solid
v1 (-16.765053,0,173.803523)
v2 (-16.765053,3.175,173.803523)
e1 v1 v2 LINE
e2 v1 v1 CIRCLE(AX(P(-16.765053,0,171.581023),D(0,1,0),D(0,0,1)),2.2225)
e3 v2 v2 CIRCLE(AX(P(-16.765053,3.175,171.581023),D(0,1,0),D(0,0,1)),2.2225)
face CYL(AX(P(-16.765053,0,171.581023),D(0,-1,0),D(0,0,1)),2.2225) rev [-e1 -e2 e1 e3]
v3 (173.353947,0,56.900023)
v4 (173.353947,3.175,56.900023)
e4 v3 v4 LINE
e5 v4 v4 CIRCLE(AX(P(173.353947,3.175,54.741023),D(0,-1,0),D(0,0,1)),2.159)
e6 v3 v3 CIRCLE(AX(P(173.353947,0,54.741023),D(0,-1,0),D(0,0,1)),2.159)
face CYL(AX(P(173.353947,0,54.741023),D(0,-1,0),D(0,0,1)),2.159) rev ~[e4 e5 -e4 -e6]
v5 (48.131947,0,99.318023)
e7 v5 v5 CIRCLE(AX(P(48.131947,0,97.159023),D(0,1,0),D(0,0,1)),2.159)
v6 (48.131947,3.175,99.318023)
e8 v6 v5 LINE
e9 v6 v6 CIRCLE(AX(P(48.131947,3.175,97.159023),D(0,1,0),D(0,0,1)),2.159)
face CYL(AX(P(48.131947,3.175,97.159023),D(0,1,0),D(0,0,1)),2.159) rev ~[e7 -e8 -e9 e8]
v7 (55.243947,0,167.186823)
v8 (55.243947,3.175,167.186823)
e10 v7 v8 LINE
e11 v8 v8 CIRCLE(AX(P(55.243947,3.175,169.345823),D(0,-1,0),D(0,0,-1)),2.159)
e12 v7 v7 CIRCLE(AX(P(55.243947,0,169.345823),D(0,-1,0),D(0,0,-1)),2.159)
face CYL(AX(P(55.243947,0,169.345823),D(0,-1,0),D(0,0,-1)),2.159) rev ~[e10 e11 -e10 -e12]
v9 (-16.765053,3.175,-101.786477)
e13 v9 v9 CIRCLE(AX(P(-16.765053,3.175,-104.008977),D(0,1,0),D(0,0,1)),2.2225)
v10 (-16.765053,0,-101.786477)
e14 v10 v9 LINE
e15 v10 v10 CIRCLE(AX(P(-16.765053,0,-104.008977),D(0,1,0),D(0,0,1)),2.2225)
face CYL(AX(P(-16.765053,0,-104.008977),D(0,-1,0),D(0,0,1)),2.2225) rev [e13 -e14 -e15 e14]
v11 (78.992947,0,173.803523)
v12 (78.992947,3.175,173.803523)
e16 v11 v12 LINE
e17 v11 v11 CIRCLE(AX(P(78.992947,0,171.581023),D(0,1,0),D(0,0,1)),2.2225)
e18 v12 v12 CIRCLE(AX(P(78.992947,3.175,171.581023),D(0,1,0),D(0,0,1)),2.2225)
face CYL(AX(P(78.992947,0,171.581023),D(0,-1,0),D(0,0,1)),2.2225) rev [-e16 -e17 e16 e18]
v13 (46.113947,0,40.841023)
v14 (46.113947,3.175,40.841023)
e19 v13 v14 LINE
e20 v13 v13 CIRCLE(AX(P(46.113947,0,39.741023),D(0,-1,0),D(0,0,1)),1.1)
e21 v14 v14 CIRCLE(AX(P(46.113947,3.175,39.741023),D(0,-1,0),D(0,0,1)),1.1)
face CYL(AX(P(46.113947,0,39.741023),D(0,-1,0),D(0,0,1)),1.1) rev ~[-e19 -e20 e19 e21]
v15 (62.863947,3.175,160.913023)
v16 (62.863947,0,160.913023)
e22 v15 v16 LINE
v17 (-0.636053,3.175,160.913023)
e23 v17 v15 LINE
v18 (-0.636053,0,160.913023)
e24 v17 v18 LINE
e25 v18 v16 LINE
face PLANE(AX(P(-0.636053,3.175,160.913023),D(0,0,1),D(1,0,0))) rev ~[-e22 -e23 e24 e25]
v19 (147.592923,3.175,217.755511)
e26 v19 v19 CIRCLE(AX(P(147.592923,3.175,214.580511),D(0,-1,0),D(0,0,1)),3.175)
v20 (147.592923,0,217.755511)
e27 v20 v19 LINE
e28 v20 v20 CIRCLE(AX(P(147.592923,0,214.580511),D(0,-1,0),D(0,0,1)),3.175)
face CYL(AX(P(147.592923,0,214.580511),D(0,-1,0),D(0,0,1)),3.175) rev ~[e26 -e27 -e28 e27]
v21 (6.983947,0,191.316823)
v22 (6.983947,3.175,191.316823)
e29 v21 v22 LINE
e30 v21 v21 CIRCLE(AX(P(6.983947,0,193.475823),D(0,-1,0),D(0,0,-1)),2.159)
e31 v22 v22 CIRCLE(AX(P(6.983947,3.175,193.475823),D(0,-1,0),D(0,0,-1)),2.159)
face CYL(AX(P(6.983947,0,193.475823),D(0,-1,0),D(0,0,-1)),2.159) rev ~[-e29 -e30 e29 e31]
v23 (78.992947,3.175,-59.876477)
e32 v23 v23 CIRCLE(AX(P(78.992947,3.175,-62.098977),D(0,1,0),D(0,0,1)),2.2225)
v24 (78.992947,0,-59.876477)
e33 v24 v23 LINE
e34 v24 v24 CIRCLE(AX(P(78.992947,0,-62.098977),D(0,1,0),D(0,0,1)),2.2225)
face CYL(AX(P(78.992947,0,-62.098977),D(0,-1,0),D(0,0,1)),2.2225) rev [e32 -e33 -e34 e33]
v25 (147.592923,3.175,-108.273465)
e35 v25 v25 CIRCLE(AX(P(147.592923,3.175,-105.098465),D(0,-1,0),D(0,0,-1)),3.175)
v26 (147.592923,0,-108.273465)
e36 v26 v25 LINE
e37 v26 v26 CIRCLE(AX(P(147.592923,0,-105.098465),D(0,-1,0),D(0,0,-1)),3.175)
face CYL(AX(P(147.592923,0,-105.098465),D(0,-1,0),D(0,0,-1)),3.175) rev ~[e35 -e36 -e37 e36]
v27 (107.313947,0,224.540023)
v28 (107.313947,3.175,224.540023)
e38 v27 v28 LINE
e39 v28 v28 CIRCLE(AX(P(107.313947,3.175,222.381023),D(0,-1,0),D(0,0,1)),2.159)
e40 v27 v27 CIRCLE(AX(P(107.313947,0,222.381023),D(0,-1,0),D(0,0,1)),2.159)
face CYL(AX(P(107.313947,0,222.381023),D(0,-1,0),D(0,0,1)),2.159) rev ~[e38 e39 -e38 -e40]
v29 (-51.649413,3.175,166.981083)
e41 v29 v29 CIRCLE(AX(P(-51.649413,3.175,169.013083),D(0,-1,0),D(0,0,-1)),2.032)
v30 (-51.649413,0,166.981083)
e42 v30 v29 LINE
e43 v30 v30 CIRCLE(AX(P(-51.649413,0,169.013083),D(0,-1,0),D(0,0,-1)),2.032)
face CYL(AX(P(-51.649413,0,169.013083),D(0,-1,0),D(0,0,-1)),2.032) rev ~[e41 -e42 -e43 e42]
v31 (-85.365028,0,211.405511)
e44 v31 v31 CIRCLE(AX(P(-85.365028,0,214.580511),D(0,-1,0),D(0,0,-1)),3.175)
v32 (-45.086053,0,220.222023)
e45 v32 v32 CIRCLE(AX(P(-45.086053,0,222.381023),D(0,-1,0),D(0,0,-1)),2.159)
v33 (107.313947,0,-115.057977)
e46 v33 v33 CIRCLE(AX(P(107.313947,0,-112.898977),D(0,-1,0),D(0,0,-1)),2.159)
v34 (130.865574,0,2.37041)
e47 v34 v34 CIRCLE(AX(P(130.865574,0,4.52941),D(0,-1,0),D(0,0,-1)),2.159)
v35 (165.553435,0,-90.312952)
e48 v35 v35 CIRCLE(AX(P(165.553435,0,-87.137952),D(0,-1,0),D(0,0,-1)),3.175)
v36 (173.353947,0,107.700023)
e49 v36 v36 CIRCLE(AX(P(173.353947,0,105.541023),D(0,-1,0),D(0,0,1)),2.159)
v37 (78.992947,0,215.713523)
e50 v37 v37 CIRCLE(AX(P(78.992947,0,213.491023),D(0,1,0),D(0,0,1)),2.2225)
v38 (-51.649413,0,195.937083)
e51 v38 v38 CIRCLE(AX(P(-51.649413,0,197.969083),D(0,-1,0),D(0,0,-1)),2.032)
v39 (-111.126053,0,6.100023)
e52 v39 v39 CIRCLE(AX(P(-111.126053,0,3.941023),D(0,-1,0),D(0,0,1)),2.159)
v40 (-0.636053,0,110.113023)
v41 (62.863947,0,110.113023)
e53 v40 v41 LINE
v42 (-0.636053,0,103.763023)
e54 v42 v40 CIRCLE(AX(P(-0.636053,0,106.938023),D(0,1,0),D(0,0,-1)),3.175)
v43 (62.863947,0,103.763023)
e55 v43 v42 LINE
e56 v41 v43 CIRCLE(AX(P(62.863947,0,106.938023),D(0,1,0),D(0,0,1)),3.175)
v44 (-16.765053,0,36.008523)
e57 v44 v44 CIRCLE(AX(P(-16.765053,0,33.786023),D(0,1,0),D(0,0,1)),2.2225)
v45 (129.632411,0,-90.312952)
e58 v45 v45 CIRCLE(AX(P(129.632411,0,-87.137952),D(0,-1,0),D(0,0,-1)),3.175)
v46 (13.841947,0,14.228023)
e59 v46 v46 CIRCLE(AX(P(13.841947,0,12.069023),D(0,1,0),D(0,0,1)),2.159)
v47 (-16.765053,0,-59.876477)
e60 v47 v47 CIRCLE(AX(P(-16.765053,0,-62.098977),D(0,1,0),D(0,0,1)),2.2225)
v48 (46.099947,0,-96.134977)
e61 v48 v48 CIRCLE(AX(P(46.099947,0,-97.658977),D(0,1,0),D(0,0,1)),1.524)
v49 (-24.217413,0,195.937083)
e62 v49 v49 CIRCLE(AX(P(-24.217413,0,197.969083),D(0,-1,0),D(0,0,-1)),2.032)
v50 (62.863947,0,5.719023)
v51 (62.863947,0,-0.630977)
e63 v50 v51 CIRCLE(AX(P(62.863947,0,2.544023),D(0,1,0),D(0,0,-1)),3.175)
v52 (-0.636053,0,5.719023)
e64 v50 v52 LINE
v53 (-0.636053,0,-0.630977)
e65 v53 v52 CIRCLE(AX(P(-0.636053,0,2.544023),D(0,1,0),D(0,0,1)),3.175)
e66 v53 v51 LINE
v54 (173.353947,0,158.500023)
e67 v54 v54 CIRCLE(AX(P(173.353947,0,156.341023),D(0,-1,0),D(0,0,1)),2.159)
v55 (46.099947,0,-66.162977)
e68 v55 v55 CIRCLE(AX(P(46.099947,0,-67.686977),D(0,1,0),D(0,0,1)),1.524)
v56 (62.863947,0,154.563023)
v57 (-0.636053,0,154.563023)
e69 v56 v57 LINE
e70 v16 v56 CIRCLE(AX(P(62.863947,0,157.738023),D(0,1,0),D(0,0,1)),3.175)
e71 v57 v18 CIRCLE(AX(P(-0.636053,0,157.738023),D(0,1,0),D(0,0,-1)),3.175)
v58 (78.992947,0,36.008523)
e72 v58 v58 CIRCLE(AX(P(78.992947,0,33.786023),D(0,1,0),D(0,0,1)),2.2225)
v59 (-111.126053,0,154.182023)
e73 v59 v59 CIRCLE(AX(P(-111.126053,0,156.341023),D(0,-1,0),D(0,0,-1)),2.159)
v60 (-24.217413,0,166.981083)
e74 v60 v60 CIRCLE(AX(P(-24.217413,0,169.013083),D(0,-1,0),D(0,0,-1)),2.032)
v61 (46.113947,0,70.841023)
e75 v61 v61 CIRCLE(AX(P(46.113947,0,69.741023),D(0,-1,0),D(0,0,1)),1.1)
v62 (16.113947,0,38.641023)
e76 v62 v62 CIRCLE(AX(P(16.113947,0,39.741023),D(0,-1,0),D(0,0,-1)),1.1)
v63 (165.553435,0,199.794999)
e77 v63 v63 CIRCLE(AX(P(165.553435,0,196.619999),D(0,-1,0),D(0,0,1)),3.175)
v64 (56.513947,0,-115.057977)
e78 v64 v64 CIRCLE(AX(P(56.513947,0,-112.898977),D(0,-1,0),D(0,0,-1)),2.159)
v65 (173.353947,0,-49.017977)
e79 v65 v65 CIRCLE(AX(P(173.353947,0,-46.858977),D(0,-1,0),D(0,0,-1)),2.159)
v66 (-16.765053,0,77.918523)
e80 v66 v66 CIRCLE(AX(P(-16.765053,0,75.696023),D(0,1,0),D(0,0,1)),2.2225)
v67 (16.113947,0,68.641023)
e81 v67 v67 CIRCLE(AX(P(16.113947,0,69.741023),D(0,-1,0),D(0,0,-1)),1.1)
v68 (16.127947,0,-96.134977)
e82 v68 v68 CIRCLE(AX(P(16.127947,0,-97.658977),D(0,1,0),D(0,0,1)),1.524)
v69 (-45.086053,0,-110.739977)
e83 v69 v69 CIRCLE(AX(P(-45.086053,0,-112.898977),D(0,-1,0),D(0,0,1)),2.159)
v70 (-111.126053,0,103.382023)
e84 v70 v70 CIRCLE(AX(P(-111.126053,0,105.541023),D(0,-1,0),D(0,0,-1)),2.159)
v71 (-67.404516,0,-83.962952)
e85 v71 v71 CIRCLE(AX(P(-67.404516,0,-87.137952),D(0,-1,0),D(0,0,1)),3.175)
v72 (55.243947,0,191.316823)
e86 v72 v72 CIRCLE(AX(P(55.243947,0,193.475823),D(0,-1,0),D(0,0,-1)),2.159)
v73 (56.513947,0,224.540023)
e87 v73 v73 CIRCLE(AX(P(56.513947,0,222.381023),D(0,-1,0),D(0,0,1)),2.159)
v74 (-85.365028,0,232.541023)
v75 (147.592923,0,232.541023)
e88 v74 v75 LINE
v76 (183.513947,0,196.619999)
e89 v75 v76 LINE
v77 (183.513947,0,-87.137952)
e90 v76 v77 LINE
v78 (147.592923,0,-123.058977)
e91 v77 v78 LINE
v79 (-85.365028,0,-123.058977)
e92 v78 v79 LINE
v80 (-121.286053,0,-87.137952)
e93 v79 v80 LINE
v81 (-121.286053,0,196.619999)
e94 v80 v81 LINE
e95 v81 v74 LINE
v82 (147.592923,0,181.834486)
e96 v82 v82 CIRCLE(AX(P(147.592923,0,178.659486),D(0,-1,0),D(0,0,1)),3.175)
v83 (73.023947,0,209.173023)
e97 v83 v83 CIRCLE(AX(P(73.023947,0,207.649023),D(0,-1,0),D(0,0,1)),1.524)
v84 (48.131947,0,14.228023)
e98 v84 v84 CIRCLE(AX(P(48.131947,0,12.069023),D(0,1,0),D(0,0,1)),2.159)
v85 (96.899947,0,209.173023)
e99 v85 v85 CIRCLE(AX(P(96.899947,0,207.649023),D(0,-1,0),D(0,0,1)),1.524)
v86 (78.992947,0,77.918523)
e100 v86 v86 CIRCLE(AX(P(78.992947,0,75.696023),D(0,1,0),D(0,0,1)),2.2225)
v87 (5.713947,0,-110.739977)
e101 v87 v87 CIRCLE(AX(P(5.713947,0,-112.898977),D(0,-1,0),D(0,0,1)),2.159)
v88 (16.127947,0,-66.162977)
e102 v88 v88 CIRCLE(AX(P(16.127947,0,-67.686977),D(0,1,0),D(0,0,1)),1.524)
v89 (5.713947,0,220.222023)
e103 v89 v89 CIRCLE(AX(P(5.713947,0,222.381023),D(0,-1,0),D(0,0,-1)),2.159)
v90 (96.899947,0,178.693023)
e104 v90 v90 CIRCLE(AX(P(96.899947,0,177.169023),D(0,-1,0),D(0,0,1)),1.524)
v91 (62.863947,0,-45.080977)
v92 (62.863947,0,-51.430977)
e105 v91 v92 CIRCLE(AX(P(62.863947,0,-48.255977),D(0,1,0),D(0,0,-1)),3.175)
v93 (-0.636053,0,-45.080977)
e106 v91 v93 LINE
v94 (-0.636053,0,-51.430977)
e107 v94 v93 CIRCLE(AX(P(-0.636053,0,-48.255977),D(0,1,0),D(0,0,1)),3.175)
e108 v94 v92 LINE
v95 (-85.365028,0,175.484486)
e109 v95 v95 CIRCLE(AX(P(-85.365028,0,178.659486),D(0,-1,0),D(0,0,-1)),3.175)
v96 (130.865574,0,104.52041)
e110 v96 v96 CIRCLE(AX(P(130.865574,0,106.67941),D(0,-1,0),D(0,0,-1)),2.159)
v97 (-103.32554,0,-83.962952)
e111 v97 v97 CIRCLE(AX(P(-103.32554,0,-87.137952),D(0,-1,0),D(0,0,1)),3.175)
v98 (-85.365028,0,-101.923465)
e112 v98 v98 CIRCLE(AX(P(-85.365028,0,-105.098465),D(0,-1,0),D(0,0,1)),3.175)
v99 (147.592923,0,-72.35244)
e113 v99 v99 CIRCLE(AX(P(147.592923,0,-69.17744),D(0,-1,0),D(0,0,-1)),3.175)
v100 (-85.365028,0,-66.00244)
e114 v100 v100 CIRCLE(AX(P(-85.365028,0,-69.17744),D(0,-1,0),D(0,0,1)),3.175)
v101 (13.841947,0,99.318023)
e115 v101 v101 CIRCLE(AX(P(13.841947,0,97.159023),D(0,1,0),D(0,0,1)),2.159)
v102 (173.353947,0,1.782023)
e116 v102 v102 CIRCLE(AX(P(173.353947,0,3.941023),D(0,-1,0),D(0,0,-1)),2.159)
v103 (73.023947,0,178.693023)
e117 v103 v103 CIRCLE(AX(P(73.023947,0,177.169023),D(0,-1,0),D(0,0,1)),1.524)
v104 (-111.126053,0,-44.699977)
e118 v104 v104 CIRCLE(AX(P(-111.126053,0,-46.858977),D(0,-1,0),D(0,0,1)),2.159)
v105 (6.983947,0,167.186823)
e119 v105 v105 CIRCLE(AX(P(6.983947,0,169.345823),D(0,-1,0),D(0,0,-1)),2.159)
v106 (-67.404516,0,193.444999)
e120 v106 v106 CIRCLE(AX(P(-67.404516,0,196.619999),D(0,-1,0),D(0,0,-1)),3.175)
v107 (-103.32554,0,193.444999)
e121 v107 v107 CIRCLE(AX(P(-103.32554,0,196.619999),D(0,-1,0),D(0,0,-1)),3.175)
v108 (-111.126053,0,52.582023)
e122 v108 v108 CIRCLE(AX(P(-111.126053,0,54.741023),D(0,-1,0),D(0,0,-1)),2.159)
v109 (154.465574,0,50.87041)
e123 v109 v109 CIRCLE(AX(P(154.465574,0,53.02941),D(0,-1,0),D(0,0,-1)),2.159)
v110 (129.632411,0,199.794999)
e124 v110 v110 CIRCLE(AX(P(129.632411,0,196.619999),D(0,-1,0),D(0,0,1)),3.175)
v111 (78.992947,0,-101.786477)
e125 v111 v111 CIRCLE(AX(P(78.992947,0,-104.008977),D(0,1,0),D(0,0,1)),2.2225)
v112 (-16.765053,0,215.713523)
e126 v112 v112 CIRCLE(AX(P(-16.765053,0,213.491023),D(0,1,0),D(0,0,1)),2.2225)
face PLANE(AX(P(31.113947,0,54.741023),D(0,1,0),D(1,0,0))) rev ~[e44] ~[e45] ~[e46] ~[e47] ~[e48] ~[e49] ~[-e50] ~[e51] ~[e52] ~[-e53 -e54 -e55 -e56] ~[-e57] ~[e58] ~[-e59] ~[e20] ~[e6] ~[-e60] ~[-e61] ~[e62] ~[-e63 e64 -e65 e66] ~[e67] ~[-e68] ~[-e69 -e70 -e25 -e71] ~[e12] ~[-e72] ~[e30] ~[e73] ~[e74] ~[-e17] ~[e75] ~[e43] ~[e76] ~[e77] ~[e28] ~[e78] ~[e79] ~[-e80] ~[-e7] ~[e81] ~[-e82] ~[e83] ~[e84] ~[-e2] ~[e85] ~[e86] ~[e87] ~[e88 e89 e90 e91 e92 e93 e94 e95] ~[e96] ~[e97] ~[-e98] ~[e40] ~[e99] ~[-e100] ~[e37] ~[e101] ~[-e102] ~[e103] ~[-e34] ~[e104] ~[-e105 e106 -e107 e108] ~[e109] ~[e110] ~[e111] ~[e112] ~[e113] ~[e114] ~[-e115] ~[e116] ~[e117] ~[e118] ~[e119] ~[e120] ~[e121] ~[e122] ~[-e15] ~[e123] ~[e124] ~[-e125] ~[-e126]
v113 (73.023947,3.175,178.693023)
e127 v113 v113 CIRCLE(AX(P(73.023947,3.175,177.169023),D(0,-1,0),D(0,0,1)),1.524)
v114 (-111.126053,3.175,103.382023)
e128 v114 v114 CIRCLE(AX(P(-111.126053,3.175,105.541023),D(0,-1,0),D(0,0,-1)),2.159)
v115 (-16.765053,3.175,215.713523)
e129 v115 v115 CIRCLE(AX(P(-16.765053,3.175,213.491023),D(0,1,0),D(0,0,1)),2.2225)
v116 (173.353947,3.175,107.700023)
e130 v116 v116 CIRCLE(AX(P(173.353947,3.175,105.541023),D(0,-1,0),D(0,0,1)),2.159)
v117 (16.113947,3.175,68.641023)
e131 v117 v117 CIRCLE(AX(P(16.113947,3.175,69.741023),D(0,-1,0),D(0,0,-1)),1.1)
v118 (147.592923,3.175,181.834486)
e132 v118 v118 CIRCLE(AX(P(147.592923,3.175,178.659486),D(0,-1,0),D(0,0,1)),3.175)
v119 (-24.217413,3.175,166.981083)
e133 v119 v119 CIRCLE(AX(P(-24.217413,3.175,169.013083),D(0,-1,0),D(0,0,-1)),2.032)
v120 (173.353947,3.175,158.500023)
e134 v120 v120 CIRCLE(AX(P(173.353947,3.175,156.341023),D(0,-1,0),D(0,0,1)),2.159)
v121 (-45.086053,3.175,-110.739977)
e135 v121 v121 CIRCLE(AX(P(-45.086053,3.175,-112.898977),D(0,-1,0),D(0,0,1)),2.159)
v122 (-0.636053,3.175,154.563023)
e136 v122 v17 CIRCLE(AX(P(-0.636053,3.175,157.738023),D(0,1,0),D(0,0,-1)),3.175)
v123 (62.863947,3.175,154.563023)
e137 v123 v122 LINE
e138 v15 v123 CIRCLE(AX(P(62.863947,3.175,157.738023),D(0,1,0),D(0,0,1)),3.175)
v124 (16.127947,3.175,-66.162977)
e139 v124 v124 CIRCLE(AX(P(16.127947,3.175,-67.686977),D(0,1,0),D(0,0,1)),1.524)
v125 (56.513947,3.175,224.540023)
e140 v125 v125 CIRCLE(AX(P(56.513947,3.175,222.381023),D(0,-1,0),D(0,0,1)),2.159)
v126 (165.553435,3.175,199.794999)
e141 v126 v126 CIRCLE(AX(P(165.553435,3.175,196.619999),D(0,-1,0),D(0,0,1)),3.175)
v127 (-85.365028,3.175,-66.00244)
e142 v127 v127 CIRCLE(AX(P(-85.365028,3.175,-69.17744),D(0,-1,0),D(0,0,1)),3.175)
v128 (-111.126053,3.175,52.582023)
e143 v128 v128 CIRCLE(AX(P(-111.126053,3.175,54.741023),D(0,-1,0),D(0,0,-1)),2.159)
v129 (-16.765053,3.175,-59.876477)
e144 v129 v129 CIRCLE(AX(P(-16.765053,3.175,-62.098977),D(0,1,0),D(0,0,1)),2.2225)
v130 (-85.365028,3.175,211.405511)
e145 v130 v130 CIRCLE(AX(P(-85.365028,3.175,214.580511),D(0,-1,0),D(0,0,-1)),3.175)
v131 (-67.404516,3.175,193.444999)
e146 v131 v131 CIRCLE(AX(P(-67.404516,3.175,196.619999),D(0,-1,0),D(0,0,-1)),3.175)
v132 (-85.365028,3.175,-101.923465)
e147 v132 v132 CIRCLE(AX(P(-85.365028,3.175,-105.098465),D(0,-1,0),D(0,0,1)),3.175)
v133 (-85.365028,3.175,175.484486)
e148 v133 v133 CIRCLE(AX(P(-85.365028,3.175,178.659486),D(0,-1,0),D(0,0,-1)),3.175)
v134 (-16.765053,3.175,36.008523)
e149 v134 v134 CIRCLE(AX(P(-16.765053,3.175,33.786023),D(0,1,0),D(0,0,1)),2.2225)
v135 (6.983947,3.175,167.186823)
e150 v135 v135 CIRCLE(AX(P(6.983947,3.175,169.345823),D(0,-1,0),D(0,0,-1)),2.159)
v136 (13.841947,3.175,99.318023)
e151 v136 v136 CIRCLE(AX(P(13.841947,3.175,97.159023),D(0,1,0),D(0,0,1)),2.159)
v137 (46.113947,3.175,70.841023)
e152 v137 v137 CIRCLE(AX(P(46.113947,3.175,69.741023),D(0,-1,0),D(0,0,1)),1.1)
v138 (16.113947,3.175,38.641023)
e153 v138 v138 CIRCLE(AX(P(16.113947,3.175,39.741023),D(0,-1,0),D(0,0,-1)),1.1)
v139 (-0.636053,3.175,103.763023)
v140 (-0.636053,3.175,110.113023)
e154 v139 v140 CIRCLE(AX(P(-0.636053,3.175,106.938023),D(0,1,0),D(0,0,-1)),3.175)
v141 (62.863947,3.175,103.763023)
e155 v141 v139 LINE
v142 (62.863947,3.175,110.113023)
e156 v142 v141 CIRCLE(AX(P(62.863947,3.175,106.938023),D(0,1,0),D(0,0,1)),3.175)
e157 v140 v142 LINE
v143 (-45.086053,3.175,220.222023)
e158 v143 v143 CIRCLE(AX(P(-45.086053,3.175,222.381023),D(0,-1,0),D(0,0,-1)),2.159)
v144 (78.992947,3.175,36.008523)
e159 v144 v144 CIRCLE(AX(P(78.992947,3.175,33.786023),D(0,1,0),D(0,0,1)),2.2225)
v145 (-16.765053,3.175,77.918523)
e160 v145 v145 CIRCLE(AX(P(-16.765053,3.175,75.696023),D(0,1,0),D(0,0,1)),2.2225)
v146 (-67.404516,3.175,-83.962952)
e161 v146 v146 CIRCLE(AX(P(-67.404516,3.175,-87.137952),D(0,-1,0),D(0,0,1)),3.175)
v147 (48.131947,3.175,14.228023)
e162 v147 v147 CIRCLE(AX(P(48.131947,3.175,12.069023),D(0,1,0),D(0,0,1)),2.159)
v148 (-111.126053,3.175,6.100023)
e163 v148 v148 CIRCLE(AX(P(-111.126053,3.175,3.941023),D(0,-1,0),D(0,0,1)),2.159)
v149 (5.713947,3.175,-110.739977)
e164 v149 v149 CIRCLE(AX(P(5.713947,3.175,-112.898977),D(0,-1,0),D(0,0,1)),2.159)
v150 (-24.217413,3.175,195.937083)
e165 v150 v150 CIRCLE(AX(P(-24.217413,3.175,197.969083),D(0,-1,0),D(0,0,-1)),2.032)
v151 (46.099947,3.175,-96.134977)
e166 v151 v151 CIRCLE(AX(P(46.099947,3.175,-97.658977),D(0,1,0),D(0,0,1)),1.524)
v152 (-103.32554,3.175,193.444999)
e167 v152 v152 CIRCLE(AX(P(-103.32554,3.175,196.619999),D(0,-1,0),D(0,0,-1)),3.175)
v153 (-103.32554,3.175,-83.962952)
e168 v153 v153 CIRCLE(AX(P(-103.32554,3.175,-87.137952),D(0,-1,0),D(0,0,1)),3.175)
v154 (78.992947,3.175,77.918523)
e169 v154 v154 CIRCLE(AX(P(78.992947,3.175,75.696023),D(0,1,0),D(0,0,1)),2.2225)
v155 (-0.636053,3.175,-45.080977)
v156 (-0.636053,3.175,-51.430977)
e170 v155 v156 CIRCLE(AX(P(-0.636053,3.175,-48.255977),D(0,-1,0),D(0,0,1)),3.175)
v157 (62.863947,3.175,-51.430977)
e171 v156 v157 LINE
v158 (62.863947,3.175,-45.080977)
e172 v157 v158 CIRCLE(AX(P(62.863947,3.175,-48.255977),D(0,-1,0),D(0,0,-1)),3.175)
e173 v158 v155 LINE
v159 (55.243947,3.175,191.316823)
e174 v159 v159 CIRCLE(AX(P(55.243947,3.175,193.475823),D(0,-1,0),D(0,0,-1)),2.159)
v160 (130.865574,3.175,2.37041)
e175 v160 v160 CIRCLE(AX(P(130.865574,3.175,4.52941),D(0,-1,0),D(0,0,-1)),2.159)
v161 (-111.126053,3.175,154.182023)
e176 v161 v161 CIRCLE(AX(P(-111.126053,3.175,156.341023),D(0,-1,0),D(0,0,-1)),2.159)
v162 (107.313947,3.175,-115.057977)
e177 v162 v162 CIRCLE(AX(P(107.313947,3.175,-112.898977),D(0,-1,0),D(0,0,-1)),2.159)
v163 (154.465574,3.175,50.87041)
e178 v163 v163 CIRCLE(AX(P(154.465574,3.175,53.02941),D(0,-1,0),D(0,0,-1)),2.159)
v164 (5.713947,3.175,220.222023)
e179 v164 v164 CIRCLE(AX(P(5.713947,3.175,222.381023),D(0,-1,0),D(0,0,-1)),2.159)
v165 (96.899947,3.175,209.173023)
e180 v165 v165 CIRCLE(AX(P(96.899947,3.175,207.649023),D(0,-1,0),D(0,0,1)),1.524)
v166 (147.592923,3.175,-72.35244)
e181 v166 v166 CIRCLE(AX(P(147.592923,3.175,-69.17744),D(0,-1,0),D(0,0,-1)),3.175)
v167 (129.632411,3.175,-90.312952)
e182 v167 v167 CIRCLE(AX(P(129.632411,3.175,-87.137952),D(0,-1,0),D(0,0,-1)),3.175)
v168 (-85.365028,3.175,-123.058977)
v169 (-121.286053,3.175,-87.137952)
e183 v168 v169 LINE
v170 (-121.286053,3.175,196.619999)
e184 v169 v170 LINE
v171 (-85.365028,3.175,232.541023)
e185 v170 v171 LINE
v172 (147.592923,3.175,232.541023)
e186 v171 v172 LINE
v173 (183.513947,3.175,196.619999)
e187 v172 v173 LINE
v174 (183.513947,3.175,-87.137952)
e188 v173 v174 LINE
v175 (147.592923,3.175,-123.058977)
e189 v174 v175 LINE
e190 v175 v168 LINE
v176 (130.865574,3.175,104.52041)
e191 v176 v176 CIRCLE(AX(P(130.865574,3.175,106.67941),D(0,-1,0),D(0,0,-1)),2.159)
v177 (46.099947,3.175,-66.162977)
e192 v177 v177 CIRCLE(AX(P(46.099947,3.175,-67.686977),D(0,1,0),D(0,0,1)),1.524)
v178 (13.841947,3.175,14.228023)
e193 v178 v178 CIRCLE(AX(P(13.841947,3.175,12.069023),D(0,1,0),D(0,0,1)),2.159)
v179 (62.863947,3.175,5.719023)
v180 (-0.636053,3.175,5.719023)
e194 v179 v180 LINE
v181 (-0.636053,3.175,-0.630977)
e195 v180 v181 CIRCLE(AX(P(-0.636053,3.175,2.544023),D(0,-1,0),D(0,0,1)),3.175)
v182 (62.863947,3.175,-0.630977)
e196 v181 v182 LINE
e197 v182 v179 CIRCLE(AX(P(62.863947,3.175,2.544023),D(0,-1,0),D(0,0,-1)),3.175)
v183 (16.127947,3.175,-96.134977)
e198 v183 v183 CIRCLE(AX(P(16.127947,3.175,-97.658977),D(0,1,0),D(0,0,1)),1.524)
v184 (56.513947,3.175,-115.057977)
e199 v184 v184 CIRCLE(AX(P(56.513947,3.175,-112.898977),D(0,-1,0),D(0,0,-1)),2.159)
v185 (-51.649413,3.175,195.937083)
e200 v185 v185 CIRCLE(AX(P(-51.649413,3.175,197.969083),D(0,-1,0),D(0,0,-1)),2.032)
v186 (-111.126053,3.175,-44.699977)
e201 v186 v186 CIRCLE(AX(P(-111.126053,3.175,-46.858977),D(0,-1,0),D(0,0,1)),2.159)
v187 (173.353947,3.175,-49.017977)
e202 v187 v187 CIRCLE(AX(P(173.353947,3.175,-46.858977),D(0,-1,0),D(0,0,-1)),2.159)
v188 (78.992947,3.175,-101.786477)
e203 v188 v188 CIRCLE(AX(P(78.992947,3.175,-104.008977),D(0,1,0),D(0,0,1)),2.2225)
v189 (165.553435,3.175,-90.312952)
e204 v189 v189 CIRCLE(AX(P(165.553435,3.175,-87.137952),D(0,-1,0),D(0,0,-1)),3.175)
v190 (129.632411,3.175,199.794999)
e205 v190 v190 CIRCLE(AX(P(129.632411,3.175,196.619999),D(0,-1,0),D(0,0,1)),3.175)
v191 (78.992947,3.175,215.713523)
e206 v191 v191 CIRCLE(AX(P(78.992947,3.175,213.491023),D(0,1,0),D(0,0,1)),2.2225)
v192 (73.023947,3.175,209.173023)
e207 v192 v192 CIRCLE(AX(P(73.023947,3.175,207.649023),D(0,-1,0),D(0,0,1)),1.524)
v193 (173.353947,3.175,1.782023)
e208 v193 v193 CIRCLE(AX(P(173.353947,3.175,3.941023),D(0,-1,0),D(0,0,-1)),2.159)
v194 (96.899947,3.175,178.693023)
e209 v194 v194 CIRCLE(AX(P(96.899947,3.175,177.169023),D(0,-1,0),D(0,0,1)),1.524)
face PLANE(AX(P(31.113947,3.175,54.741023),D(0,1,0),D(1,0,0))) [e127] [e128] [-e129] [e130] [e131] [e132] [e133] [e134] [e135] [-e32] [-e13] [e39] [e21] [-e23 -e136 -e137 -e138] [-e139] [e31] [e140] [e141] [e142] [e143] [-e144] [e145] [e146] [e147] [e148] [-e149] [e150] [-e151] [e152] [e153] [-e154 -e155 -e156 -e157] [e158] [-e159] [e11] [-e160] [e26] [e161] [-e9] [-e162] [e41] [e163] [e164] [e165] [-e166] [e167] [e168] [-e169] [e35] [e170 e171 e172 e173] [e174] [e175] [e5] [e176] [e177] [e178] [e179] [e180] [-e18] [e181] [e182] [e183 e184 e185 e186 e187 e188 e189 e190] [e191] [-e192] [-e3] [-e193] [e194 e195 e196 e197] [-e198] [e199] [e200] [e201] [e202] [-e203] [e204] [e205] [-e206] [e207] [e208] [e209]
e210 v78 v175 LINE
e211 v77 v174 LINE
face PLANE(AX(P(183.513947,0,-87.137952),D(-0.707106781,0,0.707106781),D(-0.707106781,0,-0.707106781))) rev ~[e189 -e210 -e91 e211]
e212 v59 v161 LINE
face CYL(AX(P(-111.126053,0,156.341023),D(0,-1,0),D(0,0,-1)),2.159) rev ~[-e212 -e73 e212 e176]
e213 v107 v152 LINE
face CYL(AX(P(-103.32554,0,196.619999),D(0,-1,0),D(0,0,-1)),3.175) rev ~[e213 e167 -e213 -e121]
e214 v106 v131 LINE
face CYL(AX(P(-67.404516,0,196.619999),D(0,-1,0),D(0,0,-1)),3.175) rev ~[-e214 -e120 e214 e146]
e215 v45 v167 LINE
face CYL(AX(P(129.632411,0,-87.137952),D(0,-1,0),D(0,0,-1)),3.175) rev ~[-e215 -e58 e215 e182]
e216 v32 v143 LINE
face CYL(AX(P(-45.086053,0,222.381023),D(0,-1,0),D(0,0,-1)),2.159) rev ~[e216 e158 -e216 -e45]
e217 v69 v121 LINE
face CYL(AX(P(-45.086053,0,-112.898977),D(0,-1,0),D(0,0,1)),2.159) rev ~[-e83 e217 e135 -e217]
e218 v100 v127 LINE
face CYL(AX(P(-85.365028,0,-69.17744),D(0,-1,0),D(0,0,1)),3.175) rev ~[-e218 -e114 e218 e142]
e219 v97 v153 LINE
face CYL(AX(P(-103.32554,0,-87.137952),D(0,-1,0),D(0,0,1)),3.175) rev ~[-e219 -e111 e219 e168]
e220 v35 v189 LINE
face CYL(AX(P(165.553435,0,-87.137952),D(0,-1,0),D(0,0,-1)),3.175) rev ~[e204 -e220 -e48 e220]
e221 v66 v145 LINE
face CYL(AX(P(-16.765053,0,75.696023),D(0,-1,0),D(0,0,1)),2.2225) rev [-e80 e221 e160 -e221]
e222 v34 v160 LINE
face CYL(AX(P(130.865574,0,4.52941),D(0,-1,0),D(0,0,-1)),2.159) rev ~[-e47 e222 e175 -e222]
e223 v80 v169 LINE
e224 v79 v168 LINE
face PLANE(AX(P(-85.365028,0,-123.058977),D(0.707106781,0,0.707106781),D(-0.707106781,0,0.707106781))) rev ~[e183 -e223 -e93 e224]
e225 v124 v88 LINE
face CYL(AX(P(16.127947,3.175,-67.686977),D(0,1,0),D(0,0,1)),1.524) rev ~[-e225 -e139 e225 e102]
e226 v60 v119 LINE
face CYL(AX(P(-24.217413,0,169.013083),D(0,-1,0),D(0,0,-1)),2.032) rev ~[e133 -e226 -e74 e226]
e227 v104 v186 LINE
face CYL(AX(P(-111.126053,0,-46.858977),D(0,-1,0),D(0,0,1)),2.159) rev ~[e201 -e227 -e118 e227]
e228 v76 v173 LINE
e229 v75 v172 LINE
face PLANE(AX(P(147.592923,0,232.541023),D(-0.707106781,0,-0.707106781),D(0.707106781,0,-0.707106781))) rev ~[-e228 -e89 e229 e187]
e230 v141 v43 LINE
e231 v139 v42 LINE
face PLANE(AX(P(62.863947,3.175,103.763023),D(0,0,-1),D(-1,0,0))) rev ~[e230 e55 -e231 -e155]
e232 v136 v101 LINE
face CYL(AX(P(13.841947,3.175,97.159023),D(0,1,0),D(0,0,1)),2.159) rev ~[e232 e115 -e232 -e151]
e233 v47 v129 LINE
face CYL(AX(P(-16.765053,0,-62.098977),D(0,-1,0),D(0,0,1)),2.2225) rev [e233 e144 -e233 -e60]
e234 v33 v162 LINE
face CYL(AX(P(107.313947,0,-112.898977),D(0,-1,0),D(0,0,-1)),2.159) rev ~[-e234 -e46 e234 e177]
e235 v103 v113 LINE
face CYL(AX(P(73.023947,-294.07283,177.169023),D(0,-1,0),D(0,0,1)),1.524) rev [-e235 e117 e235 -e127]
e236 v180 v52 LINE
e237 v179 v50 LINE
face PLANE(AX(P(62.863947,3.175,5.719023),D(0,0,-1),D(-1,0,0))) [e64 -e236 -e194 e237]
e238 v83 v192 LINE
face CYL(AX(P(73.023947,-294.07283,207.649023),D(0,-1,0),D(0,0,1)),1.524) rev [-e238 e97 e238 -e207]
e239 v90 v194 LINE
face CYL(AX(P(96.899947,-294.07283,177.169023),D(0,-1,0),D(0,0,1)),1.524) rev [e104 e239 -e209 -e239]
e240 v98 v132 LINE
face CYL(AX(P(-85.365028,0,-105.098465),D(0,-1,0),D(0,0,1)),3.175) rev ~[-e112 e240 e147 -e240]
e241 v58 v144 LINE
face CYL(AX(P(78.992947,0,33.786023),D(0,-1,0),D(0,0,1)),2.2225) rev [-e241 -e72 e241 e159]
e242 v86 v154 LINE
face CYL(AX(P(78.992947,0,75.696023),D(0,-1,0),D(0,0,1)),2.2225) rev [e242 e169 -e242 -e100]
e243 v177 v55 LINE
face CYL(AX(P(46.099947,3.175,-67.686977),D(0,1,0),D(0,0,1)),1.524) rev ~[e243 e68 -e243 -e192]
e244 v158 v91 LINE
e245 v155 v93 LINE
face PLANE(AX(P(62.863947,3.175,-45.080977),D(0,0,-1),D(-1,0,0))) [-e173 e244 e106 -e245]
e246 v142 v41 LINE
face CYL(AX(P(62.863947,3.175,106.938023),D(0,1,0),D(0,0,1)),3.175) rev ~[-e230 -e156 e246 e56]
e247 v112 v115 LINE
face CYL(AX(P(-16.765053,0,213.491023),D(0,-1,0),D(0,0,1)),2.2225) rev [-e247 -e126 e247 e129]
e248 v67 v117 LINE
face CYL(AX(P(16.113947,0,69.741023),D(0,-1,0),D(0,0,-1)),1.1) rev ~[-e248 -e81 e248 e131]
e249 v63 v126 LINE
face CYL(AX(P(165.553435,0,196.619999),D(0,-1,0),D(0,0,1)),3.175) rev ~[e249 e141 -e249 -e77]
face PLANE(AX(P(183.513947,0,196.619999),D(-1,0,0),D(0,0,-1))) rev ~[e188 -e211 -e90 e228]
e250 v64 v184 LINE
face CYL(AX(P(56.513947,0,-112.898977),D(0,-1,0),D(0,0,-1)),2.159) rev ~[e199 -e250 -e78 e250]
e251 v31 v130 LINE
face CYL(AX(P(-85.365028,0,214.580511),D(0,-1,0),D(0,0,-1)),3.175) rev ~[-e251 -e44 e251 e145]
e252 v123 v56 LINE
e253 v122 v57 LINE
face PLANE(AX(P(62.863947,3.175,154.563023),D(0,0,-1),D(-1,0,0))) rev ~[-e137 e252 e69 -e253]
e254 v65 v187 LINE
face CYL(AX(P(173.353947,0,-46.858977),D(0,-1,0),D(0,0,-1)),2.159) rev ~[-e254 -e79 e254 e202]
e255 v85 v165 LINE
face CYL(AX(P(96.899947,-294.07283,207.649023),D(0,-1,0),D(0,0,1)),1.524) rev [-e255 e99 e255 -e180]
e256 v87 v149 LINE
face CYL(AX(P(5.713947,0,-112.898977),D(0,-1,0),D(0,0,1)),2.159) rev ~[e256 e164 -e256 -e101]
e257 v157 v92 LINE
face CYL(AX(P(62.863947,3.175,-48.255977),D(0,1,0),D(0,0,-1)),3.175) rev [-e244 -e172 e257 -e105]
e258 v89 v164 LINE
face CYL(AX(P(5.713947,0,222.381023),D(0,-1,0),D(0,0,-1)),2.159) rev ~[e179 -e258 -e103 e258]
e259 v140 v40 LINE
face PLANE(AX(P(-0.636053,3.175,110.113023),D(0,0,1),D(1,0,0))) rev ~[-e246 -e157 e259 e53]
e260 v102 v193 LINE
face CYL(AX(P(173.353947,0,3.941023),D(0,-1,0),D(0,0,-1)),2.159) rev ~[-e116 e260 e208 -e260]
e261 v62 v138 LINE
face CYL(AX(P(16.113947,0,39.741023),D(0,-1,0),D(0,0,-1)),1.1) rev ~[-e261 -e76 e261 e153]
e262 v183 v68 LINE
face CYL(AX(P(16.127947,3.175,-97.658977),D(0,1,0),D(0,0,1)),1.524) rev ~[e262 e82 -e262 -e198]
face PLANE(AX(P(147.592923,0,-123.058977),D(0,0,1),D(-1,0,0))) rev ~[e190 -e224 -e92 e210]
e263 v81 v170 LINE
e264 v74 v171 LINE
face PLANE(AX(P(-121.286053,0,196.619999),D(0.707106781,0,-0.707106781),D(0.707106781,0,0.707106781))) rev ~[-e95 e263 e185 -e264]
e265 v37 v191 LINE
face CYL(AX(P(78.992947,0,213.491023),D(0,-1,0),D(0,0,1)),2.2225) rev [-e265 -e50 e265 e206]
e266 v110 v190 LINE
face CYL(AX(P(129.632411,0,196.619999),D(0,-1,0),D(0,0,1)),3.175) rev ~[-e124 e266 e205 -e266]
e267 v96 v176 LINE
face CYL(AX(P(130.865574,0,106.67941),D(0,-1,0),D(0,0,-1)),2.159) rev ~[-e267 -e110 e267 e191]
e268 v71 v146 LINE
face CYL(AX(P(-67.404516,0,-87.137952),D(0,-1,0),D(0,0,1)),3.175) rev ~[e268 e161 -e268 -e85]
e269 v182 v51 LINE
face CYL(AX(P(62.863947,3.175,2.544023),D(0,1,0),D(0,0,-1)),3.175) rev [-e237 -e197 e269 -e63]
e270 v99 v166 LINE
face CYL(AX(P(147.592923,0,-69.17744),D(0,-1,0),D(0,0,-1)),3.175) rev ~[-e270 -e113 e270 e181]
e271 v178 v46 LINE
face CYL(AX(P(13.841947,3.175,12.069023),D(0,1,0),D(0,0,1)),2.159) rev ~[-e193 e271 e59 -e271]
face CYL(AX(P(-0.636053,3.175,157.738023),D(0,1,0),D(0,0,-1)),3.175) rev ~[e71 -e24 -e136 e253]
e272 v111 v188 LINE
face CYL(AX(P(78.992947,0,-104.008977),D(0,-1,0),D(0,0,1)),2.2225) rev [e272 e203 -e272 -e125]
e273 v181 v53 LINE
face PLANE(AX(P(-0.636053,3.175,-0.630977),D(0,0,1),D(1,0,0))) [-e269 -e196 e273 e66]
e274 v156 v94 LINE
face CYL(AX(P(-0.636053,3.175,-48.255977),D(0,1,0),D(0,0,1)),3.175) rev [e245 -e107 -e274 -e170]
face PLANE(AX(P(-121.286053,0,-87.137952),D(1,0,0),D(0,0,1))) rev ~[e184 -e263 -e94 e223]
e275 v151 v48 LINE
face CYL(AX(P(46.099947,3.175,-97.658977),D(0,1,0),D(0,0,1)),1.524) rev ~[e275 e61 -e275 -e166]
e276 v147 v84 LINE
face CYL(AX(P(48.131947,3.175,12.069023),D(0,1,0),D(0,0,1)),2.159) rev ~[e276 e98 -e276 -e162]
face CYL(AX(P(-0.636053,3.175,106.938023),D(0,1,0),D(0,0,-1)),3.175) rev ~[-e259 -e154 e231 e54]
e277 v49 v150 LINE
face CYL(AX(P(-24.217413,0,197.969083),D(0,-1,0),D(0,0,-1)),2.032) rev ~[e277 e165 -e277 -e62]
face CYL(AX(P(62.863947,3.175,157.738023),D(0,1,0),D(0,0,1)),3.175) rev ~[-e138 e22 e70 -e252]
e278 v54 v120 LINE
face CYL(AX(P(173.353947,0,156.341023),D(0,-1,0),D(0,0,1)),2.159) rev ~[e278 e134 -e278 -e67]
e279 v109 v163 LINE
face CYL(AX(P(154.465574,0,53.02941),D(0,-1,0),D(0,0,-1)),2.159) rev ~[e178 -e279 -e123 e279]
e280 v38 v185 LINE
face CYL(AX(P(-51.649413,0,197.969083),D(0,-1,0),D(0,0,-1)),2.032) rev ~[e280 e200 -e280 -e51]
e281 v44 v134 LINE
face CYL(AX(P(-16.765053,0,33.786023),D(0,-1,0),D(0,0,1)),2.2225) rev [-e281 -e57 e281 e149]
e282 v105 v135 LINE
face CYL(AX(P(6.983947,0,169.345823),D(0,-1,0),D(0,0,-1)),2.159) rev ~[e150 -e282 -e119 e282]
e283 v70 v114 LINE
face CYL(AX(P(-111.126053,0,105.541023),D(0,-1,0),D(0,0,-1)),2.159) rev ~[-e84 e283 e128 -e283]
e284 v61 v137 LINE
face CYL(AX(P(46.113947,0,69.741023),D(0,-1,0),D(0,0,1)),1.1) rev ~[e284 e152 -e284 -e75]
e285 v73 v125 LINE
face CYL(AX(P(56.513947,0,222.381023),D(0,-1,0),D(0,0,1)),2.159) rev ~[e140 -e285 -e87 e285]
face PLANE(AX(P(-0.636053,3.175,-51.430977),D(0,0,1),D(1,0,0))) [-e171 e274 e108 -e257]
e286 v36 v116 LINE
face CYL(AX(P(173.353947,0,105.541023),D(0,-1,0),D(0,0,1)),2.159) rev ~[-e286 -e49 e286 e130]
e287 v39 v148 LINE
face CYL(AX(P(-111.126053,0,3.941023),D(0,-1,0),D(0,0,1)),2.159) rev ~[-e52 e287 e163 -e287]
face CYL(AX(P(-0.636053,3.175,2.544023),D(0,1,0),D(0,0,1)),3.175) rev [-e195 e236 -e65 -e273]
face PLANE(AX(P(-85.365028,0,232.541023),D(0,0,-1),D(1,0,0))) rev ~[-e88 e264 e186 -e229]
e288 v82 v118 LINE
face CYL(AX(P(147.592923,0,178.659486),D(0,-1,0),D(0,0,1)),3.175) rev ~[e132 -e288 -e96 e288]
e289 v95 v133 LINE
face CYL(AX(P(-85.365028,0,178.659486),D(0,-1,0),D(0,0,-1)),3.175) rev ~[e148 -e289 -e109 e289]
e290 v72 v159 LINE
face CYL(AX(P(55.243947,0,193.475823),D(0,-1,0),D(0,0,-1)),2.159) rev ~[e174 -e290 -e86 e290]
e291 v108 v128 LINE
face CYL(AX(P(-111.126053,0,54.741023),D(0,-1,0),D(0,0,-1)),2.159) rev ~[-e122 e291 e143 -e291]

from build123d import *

# Parameters (mm, degrees)
SKETCH1_R               = 2.2225
BOSS_EXTRUDE1_DEPTH     = 3.175
SKETCH2_R               = 2.159
CUT_EXTRUDE1_DEPTH      = 297.247830215
CUT_EXTRUDE2_DEPTH      = 297.247830215
SKETCH7_R               = 1.524
CUT_EXTRUDE3_DEPTH      = 297.247830215
CUT_EXTRUDE4_DEPTH      = 297.247830215
CUT_EXTRUDE4_DEPTH_BACK = 297.247830215
SKETCH8_R               = 1.524
SKETCH9_R               = 2.032
CUT_EXTRUDE5_DEPTH      = 297.247830215
SKETCH10_R              = 2.159
CUT_EXTRUDE6_DEPTH      = 297.247830215
SKETCH13_R              = 1.1
CUT_EXTRUDE8_DEPTH      = 297.247830215
SKETCH14_R              = 3.175
CUT_EXTRUDE9_DEPTH      = 297.247830215
SKETCH15_R              = 2.159
CUT_EXTRUDE10_DEPTH     = 297.247830215
SKETCH16_R              = 2.159
CUT_EXTRUDE11_DEPTH     = 297.247830215


with BuildPart() as part:
    # Sketch1 → Boss-Extrude1 (new body)
    with BuildSketch(Plane(origin=(0, 0, 0), x_dir=(1, 0, 0), z_dir=(0, 1, 0))):
        Polygon((-85.365028143, 123.058976948), (-121.286052627, 87.137952464), (-121.286052627, -196.619998567), (-85.365028143, -232.541023052), (147.592922888, -232.541023052), (183.513947373, -196.619998567), (183.513947373, 87.137952464), (147.592922888, 123.058976948), align=None)
        with Locations(Location((-16.765052627, -213.491023052, 0), (0, 0, 270))):
            Circle(SKETCH1_R, mode=Mode.SUBTRACT)
        with Locations(Location((-16.765052627, -171.581023052, 0), (0, 0, 270))):
            Circle(SKETCH1_R, mode=Mode.SUBTRACT)
        with Locations(Location((-16.765052627, -75.696023052, 0), (0, 0, 270))):
            Circle(SKETCH1_R, mode=Mode.SUBTRACT)
        with Locations(Location((78.992947373, -213.491023052, 0), (0, 0, 270))):
            Circle(SKETCH1_R, mode=Mode.SUBTRACT)
        with Locations(Location((78.992947373, -171.581023052, 0), (0, 0, 270))):
            Circle(SKETCH1_R, mode=Mode.SUBTRACT)
        with Locations(Location((78.992947373, -75.696023052, 0), (0, 0, 270))):
            Circle(SKETCH1_R, mode=Mode.SUBTRACT)
        with Locations(Location((-16.765052627, -33.786023052, 0), (0, 0, 270))):
            Circle(SKETCH1_R, mode=Mode.SUBTRACT)
        with Locations(Location((-16.765052627, 62.098976948, 0), (0, 0, 270))):
            Circle(SKETCH1_R, mode=Mode.SUBTRACT)
        with Locations(Location((-16.765052627, 104.008976948, 0), (0, 0, 270))):
            Circle(SKETCH1_R, mode=Mode.SUBTRACT)
        with Locations(Location((78.992947373, -33.786023052, 0), (0, 0, 270))):
            Circle(SKETCH1_R, mode=Mode.SUBTRACT)
        with Locations(Location((78.992947373, 62.098976948, 0), (0, 0, 270))):
            Circle(SKETCH1_R, mode=Mode.SUBTRACT)
        with Locations(Location((78.992947373, 104.008976948, 0), (0, 0, 270))):
            Circle(SKETCH1_R, mode=Mode.SUBTRACT)
    extrude(amount=BOSS_EXTRUDE1_DEPTH)

    # Sketch2 → Cut-Extrude1 (cut, through all)
    with BuildSketch(Plane(origin=(0, 3.175, 0), x_dir=(1, 0, 0), z_dir=(0, 1, 0))):
        with Locations(Location((13.841947373, -12.069023052, 0), (0, 0, 270))):
            Circle(SKETCH2_R)
        with Locations(Location((48.131947373, -12.069023052, 0), (0, 0, 270))):
            Circle(SKETCH2_R)
        with Locations(Location((13.841947373, -97.159023052, 0), (0, 0, 270))):
            Circle(SKETCH2_R)
        with Locations(Location((48.131947373, -97.159023052, 0), (0, 0, 270))):
            Circle(SKETCH2_R)
    extrude(amount=-CUT_EXTRUDE1_DEPTH, mode=Mode.SUBTRACT)

    # Sketch4 → Cut-Extrude2 (cut, through all)
    with BuildSketch(Plane(origin=(0, 3.175, 0), x_dir=(1, 0, 0), z_dir=(0, 1, 0))):
        with BuildLine():
            Line((-0.636052627, 51.430976948), (62.863947373, 51.430976948))
            ThreePointArc((62.863947373, 51.430976948), (66.038947373, 48.255976948), (62.863947373, 45.080976948))
            Line((62.863947373, 45.080976948), (-0.636052627, 45.080976948))
            ThreePointArc((-0.636052627, 45.080976948), (-3.811052627, 48.255976948), (-0.636052627, 51.430976948))
        make_face()
        with BuildLine():
            Line((-0.636052627, 0.630976948), (62.863947373, 0.630976948))
            ThreePointArc((62.863947373, 0.630976948), (66.038947373, -2.544023052), (62.863947373, -5.719023052))
            Line((62.863947373, -5.719023052), (-0.636052627, -5.719023052))
            ThreePointArc((-0.636052627, -5.719023052), (-3.811052627, -2.544023052), (-0.636052627, 0.630976948))
        make_face()
        with BuildLine():
            Line((-0.636052627, -110.113023052), (62.863947373, -110.113023052))
            ThreePointArc((62.863947373, -110.113023052), (66.038947373, -106.938023052), (62.863947373, -103.763023052))
            Line((62.863947373, -103.763023052), (-0.636052627, -103.763023052))
            ThreePointArc((-0.636052627, -103.763023052), (-3.811052627, -106.938023052), (-0.636052627, -110.113023052))
        make_face()
        with BuildLine():
            Line((-0.636052627, -160.913023052), (62.863947373, -160.913023052))
            ThreePointArc((62.863947373, -160.913023052), (66.038947373, -157.738023052), (62.863947373, -154.563023052))
            Line((62.863947373, -154.563023052), (-0.636052627, -154.563023052))
            ThreePointArc((-0.636052627, -154.563023052), (-3.811052627, -157.738023052), (-0.636052627, -160.913023052))
        make_face()
    extrude(amount=-CUT_EXTRUDE2_DEPTH, mode=Mode.SUBTRACT)

    # Sketch7 → Cut-Extrude3 (cut, through all)
    with BuildSketch(Plane(origin=(0, 3.175, 0), x_dir=(1, 0, 0), z_dir=(0, 1, 0))):
        with Locations(Location((16.127947373, 67.686976948, 0), (0, 0, 270))):
            Circle(SKETCH7_R)
        with Locations(Location((46.099947373, 67.686976948, 0), (0, 0, 270))):
            Circle(SKETCH7_R)
        with Locations(Location((16.127947373, 97.658976948, 0), (0, 0, 270))):
            Circle(SKETCH7_R)
        with Locations(Location((46.099947373, 97.658976948, 0), (0, 0, 270))):
            Circle(SKETCH7_R)
    extrude(amount=-CUT_EXTRUDE3_DEPTH, mode=Mode.SUBTRACT)

    # Sketch8 → Cut-Extrude4 (cut, two sides: drawn at the far end of the back side and taken through both)
    with BuildSketch(Plane(origin=(0, 3.175, 0), x_dir=(1, 0, 0), z_dir=(0, 1, 0)).offset(-CUT_EXTRUDE4_DEPTH_BACK)):
        with Locations(Location((73.023947373, -207.649023052, 0), (0, 0, 270))):
            Circle(SKETCH8_R)
        with Locations(Location((73.023947373, -177.169023052, 0), (0, 0, 270))):
            Circle(SKETCH8_R)
        with Locations(Location((96.899947373, -207.649023052, 0), (0, 0, 270))):
            Circle(SKETCH8_R)
        with Locations(Location((96.899947373, -177.169023052, 0), (0, 0, 270))):
            Circle(SKETCH8_R)
    extrude(amount=CUT_EXTRUDE4_DEPTH + CUT_EXTRUDE4_DEPTH_BACK, mode=Mode.SUBTRACT)

    # Sketch9 → Cut-Extrude5 (cut, through all)
    with BuildSketch(Plane(origin=(0, 0, 0), x_dir=(-1, 0, 0), z_dir=(0, -1, 0))):
        with Locations(Location((51.649412627, -197.969083052, 0), (0, 0, 90))):
            Circle(SKETCH9_R)
        with Locations(Location((24.217412627, -197.969083052, 0), (0, 0, 90))):
            Circle(SKETCH9_R)
        with Locations(Location((51.649412627, -169.013083052, 0), (0, 0, 90))):
            Circle(SKETCH9_R)
        with Locations(Location((24.217412627, -169.013083052, 0), (0, 0, 90))):
            Circle(SKETCH9_R)
    extrude(amount=-CUT_EXTRUDE5_DEPTH, mode=Mode.SUBTRACT)

    # Sketch10 → Cut-Extrude6 (cut, through all)
    with BuildSketch(Plane.XZ):
        with Locations(Location((6.983947373, 193.475823052, 0), (0, 0, 270))):
            Circle(SKETCH10_R)
        with Locations(Location((55.243947373, 193.475823052, 0), (0, 0, 270))):
            Circle(SKETCH10_R)
        with Locations(Location((6.983947373, 169.345823052, 0), (0, 0, 270))):
            Circle(SKETCH10_R)
        with Locations(Location((55.243947373, 169.345823052, 0), (0, 0, 270))):
            Circle(SKETCH10_R)
    extrude(amount=-CUT_EXTRUDE6_DEPTH, mode=Mode.SUBTRACT)

    # Sketch13 → Cut-Extrude8 (cut, through all)
    with BuildSketch(Plane.XZ):
        with Locations(Location((16.113947373, 69.741023052, 0), (0, 0, 270))):
            Circle(SKETCH13_R)
        with Locations(Location((16.113947373, 39.741023052, 0), (0, 0, 270))):
            Circle(SKETCH13_R)
        with Locations(Location((46.113947373, 39.741023052, 0), (0, 0, 90))):
            Circle(SKETCH13_R)
        with Locations(Location((46.113947373, 69.741023052, 0), (0, 0, 90))):
            Circle(SKETCH13_R)
    extrude(amount=-CUT_EXTRUDE8_DEPTH, mode=Mode.SUBTRACT)

    # Sketch14 → Cut-Extrude9 (cut, through all)
    with BuildSketch(Plane.XZ):
        with Locations(Location((-103.325540385, 196.619998567, 0), (0, 0, 270))):
            Circle(SKETCH14_R)
        with Locations(Location((-85.365028143, 214.580510809, 0), (0, 0, 270))):
            Circle(SKETCH14_R)
        with Locations(Location((-85.365028143, 178.659486325, 0), (0, 0, 270))):
            Circle(SKETCH14_R)
        with Locations(Location((-67.404515901, 196.619998567, 0), (0, 0, 270))):
            Circle(SKETCH14_R)
        with Locations(Location((129.632410646, 196.619998567, 0), (0, 0, 90))):
            Circle(SKETCH14_R)
        with Locations(Location((147.592922888, 178.659486325, 0), (0, 0, 90))):
            Circle(SKETCH14_R)
        with Locations(Location((165.55343513, 196.619998567, 0), (0, 0, 90))):
            Circle(SKETCH14_R)
        with Locations(Location((147.592922888, 214.580510809, 0), (0, 0, 90))):
            Circle(SKETCH14_R)
        with Locations(Location((-85.365028143, -105.098464706, 0), (0, 0, 90))):
            Circle(SKETCH14_R)
        with Locations(Location((-103.325540385, -87.137952464, 0), (0, 0, 90))):
            Circle(SKETCH14_R)
        with Locations(Location((-85.365028143, -69.177440222, 0), (0, 0, 90))):
            Circle(SKETCH14_R)
        with Locations(Location((-67.404515901, -87.137952464, 0), (0, 0, 90))):
            Circle(SKETCH14_R)
        with Locations(Location((165.55343513, -87.137952464, 0), (0, 0, 270))):
            Circle(SKETCH14_R)
        with Locations(Location((147.592922888, -69.177440222, 0), (0, 0, 270))):
            Circle(SKETCH14_R)
        with Locations(Location((147.592922888, -105.098464706, 0), (0, 0, 270))):
            Circle(SKETCH14_R)
        with Locations(Location((129.632410646, -87.137952464, 0), (0, 0, 270))):
            Circle(SKETCH14_R)
    extrude(amount=-CUT_EXTRUDE9_DEPTH, mode=Mode.SUBTRACT)

    # Sketch15 → Cut-Extrude10 (cut, through all)
    with BuildSketch(Plane.XZ):
        with Locations(Location((5.713947373, 222.381023052, 0), (0, 0, 270))):
            Circle(SKETCH15_R)
        with Locations(Location((-45.086052627, 222.381023052, 0), (0, 0, 270))):
            Circle(SKETCH15_R)
        with Locations(Location((-111.126052627, 54.741023052, 0), (0, 0, 270))):
            Circle(SKETCH15_R)
        with Locations(Location((-111.126052627, 105.541023052, 0), (0, 0, 270))):
            Circle(SKETCH15_R)
        with Locations(Location((-111.126052627, 156.341023052, 0), (0, 0, 270))):
            Circle(SKETCH15_R)
        with Locations(Location((173.353947373, 156.341023052, 0), (0, 0, 90))):
            Circle(SKETCH15_R)
        with Locations(Location((173.353947373, 105.541023052, 0), (0, 0, 90))):
            Circle(SKETCH15_R)
        with Locations(Location((173.353947373, 54.741023052, 0), (0, 0, 90))):
            Circle(SKETCH15_R)
        with Locations(Location((107.313947373, 222.381023052, 0), (0, 0, 90))):
            Circle(SKETCH15_R)
        with Locations(Location((56.513947373, 222.381023052, 0), (0, 0, 90))):
            Circle(SKETCH15_R)
        with Locations(Location((56.513947373, -112.898976948, 0), (0, 0, 270))):
            Circle(SKETCH15_R)
        with Locations(Location((107.313947373, -112.898976948, 0), (0, 0, 270))):
            Circle(SKETCH15_R)
        with Locations(Location((173.353947373, 3.941023052, 0), (0, 0, 270))):
            Circle(SKETCH15_R)
        with Locations(Location((173.353947373, -46.858976948, 0), (0, 0, 270))):
            Circle(SKETCH15_R)
        with Locations(Location((-111.126052627, -46.858976948, 0), (0, 0, 90))):
            Circle(SKETCH15_R)
        with Locations(Location((-111.126052627, 3.941023052, 0), (0, 0, 90))):
            Circle(SKETCH15_R)
        with Locations(Location((-45.086052627, -112.898976948, 0), (0, 0, 90))):
            Circle(SKETCH15_R)
        with Locations(Location((5.713947373, -112.898976948, 0), (0, 0, 90))):
            Circle(SKETCH15_R)
    extrude(amount=-CUT_EXTRUDE10_DEPTH, mode=Mode.SUBTRACT)

    # Sketch16 → Cut-Extrude11 (cut, through all)
    with BuildSketch(Plane(origin=(0, 0, 0), x_dir=(-1, 0, 0), z_dir=(0, -1, 0))):
        with Locations(Location((-130.865574362, -106.679409794, 0), (0, 0, 90))):
            Circle(SKETCH16_R)
        with Locations(Location((-130.865574362, -4.529409794, 0), (0, 0, 90))):
            Circle(SKETCH16_R)
        with Locations(Location((-154.465574362, -53.029409794, 0), (0, 0, 90))):
            Circle(SKETCH16_R)
    extrude(amount=-CUT_EXTRUDE11_DEPTH, mode=Mode.SUBTRACT)


solid = part.part
